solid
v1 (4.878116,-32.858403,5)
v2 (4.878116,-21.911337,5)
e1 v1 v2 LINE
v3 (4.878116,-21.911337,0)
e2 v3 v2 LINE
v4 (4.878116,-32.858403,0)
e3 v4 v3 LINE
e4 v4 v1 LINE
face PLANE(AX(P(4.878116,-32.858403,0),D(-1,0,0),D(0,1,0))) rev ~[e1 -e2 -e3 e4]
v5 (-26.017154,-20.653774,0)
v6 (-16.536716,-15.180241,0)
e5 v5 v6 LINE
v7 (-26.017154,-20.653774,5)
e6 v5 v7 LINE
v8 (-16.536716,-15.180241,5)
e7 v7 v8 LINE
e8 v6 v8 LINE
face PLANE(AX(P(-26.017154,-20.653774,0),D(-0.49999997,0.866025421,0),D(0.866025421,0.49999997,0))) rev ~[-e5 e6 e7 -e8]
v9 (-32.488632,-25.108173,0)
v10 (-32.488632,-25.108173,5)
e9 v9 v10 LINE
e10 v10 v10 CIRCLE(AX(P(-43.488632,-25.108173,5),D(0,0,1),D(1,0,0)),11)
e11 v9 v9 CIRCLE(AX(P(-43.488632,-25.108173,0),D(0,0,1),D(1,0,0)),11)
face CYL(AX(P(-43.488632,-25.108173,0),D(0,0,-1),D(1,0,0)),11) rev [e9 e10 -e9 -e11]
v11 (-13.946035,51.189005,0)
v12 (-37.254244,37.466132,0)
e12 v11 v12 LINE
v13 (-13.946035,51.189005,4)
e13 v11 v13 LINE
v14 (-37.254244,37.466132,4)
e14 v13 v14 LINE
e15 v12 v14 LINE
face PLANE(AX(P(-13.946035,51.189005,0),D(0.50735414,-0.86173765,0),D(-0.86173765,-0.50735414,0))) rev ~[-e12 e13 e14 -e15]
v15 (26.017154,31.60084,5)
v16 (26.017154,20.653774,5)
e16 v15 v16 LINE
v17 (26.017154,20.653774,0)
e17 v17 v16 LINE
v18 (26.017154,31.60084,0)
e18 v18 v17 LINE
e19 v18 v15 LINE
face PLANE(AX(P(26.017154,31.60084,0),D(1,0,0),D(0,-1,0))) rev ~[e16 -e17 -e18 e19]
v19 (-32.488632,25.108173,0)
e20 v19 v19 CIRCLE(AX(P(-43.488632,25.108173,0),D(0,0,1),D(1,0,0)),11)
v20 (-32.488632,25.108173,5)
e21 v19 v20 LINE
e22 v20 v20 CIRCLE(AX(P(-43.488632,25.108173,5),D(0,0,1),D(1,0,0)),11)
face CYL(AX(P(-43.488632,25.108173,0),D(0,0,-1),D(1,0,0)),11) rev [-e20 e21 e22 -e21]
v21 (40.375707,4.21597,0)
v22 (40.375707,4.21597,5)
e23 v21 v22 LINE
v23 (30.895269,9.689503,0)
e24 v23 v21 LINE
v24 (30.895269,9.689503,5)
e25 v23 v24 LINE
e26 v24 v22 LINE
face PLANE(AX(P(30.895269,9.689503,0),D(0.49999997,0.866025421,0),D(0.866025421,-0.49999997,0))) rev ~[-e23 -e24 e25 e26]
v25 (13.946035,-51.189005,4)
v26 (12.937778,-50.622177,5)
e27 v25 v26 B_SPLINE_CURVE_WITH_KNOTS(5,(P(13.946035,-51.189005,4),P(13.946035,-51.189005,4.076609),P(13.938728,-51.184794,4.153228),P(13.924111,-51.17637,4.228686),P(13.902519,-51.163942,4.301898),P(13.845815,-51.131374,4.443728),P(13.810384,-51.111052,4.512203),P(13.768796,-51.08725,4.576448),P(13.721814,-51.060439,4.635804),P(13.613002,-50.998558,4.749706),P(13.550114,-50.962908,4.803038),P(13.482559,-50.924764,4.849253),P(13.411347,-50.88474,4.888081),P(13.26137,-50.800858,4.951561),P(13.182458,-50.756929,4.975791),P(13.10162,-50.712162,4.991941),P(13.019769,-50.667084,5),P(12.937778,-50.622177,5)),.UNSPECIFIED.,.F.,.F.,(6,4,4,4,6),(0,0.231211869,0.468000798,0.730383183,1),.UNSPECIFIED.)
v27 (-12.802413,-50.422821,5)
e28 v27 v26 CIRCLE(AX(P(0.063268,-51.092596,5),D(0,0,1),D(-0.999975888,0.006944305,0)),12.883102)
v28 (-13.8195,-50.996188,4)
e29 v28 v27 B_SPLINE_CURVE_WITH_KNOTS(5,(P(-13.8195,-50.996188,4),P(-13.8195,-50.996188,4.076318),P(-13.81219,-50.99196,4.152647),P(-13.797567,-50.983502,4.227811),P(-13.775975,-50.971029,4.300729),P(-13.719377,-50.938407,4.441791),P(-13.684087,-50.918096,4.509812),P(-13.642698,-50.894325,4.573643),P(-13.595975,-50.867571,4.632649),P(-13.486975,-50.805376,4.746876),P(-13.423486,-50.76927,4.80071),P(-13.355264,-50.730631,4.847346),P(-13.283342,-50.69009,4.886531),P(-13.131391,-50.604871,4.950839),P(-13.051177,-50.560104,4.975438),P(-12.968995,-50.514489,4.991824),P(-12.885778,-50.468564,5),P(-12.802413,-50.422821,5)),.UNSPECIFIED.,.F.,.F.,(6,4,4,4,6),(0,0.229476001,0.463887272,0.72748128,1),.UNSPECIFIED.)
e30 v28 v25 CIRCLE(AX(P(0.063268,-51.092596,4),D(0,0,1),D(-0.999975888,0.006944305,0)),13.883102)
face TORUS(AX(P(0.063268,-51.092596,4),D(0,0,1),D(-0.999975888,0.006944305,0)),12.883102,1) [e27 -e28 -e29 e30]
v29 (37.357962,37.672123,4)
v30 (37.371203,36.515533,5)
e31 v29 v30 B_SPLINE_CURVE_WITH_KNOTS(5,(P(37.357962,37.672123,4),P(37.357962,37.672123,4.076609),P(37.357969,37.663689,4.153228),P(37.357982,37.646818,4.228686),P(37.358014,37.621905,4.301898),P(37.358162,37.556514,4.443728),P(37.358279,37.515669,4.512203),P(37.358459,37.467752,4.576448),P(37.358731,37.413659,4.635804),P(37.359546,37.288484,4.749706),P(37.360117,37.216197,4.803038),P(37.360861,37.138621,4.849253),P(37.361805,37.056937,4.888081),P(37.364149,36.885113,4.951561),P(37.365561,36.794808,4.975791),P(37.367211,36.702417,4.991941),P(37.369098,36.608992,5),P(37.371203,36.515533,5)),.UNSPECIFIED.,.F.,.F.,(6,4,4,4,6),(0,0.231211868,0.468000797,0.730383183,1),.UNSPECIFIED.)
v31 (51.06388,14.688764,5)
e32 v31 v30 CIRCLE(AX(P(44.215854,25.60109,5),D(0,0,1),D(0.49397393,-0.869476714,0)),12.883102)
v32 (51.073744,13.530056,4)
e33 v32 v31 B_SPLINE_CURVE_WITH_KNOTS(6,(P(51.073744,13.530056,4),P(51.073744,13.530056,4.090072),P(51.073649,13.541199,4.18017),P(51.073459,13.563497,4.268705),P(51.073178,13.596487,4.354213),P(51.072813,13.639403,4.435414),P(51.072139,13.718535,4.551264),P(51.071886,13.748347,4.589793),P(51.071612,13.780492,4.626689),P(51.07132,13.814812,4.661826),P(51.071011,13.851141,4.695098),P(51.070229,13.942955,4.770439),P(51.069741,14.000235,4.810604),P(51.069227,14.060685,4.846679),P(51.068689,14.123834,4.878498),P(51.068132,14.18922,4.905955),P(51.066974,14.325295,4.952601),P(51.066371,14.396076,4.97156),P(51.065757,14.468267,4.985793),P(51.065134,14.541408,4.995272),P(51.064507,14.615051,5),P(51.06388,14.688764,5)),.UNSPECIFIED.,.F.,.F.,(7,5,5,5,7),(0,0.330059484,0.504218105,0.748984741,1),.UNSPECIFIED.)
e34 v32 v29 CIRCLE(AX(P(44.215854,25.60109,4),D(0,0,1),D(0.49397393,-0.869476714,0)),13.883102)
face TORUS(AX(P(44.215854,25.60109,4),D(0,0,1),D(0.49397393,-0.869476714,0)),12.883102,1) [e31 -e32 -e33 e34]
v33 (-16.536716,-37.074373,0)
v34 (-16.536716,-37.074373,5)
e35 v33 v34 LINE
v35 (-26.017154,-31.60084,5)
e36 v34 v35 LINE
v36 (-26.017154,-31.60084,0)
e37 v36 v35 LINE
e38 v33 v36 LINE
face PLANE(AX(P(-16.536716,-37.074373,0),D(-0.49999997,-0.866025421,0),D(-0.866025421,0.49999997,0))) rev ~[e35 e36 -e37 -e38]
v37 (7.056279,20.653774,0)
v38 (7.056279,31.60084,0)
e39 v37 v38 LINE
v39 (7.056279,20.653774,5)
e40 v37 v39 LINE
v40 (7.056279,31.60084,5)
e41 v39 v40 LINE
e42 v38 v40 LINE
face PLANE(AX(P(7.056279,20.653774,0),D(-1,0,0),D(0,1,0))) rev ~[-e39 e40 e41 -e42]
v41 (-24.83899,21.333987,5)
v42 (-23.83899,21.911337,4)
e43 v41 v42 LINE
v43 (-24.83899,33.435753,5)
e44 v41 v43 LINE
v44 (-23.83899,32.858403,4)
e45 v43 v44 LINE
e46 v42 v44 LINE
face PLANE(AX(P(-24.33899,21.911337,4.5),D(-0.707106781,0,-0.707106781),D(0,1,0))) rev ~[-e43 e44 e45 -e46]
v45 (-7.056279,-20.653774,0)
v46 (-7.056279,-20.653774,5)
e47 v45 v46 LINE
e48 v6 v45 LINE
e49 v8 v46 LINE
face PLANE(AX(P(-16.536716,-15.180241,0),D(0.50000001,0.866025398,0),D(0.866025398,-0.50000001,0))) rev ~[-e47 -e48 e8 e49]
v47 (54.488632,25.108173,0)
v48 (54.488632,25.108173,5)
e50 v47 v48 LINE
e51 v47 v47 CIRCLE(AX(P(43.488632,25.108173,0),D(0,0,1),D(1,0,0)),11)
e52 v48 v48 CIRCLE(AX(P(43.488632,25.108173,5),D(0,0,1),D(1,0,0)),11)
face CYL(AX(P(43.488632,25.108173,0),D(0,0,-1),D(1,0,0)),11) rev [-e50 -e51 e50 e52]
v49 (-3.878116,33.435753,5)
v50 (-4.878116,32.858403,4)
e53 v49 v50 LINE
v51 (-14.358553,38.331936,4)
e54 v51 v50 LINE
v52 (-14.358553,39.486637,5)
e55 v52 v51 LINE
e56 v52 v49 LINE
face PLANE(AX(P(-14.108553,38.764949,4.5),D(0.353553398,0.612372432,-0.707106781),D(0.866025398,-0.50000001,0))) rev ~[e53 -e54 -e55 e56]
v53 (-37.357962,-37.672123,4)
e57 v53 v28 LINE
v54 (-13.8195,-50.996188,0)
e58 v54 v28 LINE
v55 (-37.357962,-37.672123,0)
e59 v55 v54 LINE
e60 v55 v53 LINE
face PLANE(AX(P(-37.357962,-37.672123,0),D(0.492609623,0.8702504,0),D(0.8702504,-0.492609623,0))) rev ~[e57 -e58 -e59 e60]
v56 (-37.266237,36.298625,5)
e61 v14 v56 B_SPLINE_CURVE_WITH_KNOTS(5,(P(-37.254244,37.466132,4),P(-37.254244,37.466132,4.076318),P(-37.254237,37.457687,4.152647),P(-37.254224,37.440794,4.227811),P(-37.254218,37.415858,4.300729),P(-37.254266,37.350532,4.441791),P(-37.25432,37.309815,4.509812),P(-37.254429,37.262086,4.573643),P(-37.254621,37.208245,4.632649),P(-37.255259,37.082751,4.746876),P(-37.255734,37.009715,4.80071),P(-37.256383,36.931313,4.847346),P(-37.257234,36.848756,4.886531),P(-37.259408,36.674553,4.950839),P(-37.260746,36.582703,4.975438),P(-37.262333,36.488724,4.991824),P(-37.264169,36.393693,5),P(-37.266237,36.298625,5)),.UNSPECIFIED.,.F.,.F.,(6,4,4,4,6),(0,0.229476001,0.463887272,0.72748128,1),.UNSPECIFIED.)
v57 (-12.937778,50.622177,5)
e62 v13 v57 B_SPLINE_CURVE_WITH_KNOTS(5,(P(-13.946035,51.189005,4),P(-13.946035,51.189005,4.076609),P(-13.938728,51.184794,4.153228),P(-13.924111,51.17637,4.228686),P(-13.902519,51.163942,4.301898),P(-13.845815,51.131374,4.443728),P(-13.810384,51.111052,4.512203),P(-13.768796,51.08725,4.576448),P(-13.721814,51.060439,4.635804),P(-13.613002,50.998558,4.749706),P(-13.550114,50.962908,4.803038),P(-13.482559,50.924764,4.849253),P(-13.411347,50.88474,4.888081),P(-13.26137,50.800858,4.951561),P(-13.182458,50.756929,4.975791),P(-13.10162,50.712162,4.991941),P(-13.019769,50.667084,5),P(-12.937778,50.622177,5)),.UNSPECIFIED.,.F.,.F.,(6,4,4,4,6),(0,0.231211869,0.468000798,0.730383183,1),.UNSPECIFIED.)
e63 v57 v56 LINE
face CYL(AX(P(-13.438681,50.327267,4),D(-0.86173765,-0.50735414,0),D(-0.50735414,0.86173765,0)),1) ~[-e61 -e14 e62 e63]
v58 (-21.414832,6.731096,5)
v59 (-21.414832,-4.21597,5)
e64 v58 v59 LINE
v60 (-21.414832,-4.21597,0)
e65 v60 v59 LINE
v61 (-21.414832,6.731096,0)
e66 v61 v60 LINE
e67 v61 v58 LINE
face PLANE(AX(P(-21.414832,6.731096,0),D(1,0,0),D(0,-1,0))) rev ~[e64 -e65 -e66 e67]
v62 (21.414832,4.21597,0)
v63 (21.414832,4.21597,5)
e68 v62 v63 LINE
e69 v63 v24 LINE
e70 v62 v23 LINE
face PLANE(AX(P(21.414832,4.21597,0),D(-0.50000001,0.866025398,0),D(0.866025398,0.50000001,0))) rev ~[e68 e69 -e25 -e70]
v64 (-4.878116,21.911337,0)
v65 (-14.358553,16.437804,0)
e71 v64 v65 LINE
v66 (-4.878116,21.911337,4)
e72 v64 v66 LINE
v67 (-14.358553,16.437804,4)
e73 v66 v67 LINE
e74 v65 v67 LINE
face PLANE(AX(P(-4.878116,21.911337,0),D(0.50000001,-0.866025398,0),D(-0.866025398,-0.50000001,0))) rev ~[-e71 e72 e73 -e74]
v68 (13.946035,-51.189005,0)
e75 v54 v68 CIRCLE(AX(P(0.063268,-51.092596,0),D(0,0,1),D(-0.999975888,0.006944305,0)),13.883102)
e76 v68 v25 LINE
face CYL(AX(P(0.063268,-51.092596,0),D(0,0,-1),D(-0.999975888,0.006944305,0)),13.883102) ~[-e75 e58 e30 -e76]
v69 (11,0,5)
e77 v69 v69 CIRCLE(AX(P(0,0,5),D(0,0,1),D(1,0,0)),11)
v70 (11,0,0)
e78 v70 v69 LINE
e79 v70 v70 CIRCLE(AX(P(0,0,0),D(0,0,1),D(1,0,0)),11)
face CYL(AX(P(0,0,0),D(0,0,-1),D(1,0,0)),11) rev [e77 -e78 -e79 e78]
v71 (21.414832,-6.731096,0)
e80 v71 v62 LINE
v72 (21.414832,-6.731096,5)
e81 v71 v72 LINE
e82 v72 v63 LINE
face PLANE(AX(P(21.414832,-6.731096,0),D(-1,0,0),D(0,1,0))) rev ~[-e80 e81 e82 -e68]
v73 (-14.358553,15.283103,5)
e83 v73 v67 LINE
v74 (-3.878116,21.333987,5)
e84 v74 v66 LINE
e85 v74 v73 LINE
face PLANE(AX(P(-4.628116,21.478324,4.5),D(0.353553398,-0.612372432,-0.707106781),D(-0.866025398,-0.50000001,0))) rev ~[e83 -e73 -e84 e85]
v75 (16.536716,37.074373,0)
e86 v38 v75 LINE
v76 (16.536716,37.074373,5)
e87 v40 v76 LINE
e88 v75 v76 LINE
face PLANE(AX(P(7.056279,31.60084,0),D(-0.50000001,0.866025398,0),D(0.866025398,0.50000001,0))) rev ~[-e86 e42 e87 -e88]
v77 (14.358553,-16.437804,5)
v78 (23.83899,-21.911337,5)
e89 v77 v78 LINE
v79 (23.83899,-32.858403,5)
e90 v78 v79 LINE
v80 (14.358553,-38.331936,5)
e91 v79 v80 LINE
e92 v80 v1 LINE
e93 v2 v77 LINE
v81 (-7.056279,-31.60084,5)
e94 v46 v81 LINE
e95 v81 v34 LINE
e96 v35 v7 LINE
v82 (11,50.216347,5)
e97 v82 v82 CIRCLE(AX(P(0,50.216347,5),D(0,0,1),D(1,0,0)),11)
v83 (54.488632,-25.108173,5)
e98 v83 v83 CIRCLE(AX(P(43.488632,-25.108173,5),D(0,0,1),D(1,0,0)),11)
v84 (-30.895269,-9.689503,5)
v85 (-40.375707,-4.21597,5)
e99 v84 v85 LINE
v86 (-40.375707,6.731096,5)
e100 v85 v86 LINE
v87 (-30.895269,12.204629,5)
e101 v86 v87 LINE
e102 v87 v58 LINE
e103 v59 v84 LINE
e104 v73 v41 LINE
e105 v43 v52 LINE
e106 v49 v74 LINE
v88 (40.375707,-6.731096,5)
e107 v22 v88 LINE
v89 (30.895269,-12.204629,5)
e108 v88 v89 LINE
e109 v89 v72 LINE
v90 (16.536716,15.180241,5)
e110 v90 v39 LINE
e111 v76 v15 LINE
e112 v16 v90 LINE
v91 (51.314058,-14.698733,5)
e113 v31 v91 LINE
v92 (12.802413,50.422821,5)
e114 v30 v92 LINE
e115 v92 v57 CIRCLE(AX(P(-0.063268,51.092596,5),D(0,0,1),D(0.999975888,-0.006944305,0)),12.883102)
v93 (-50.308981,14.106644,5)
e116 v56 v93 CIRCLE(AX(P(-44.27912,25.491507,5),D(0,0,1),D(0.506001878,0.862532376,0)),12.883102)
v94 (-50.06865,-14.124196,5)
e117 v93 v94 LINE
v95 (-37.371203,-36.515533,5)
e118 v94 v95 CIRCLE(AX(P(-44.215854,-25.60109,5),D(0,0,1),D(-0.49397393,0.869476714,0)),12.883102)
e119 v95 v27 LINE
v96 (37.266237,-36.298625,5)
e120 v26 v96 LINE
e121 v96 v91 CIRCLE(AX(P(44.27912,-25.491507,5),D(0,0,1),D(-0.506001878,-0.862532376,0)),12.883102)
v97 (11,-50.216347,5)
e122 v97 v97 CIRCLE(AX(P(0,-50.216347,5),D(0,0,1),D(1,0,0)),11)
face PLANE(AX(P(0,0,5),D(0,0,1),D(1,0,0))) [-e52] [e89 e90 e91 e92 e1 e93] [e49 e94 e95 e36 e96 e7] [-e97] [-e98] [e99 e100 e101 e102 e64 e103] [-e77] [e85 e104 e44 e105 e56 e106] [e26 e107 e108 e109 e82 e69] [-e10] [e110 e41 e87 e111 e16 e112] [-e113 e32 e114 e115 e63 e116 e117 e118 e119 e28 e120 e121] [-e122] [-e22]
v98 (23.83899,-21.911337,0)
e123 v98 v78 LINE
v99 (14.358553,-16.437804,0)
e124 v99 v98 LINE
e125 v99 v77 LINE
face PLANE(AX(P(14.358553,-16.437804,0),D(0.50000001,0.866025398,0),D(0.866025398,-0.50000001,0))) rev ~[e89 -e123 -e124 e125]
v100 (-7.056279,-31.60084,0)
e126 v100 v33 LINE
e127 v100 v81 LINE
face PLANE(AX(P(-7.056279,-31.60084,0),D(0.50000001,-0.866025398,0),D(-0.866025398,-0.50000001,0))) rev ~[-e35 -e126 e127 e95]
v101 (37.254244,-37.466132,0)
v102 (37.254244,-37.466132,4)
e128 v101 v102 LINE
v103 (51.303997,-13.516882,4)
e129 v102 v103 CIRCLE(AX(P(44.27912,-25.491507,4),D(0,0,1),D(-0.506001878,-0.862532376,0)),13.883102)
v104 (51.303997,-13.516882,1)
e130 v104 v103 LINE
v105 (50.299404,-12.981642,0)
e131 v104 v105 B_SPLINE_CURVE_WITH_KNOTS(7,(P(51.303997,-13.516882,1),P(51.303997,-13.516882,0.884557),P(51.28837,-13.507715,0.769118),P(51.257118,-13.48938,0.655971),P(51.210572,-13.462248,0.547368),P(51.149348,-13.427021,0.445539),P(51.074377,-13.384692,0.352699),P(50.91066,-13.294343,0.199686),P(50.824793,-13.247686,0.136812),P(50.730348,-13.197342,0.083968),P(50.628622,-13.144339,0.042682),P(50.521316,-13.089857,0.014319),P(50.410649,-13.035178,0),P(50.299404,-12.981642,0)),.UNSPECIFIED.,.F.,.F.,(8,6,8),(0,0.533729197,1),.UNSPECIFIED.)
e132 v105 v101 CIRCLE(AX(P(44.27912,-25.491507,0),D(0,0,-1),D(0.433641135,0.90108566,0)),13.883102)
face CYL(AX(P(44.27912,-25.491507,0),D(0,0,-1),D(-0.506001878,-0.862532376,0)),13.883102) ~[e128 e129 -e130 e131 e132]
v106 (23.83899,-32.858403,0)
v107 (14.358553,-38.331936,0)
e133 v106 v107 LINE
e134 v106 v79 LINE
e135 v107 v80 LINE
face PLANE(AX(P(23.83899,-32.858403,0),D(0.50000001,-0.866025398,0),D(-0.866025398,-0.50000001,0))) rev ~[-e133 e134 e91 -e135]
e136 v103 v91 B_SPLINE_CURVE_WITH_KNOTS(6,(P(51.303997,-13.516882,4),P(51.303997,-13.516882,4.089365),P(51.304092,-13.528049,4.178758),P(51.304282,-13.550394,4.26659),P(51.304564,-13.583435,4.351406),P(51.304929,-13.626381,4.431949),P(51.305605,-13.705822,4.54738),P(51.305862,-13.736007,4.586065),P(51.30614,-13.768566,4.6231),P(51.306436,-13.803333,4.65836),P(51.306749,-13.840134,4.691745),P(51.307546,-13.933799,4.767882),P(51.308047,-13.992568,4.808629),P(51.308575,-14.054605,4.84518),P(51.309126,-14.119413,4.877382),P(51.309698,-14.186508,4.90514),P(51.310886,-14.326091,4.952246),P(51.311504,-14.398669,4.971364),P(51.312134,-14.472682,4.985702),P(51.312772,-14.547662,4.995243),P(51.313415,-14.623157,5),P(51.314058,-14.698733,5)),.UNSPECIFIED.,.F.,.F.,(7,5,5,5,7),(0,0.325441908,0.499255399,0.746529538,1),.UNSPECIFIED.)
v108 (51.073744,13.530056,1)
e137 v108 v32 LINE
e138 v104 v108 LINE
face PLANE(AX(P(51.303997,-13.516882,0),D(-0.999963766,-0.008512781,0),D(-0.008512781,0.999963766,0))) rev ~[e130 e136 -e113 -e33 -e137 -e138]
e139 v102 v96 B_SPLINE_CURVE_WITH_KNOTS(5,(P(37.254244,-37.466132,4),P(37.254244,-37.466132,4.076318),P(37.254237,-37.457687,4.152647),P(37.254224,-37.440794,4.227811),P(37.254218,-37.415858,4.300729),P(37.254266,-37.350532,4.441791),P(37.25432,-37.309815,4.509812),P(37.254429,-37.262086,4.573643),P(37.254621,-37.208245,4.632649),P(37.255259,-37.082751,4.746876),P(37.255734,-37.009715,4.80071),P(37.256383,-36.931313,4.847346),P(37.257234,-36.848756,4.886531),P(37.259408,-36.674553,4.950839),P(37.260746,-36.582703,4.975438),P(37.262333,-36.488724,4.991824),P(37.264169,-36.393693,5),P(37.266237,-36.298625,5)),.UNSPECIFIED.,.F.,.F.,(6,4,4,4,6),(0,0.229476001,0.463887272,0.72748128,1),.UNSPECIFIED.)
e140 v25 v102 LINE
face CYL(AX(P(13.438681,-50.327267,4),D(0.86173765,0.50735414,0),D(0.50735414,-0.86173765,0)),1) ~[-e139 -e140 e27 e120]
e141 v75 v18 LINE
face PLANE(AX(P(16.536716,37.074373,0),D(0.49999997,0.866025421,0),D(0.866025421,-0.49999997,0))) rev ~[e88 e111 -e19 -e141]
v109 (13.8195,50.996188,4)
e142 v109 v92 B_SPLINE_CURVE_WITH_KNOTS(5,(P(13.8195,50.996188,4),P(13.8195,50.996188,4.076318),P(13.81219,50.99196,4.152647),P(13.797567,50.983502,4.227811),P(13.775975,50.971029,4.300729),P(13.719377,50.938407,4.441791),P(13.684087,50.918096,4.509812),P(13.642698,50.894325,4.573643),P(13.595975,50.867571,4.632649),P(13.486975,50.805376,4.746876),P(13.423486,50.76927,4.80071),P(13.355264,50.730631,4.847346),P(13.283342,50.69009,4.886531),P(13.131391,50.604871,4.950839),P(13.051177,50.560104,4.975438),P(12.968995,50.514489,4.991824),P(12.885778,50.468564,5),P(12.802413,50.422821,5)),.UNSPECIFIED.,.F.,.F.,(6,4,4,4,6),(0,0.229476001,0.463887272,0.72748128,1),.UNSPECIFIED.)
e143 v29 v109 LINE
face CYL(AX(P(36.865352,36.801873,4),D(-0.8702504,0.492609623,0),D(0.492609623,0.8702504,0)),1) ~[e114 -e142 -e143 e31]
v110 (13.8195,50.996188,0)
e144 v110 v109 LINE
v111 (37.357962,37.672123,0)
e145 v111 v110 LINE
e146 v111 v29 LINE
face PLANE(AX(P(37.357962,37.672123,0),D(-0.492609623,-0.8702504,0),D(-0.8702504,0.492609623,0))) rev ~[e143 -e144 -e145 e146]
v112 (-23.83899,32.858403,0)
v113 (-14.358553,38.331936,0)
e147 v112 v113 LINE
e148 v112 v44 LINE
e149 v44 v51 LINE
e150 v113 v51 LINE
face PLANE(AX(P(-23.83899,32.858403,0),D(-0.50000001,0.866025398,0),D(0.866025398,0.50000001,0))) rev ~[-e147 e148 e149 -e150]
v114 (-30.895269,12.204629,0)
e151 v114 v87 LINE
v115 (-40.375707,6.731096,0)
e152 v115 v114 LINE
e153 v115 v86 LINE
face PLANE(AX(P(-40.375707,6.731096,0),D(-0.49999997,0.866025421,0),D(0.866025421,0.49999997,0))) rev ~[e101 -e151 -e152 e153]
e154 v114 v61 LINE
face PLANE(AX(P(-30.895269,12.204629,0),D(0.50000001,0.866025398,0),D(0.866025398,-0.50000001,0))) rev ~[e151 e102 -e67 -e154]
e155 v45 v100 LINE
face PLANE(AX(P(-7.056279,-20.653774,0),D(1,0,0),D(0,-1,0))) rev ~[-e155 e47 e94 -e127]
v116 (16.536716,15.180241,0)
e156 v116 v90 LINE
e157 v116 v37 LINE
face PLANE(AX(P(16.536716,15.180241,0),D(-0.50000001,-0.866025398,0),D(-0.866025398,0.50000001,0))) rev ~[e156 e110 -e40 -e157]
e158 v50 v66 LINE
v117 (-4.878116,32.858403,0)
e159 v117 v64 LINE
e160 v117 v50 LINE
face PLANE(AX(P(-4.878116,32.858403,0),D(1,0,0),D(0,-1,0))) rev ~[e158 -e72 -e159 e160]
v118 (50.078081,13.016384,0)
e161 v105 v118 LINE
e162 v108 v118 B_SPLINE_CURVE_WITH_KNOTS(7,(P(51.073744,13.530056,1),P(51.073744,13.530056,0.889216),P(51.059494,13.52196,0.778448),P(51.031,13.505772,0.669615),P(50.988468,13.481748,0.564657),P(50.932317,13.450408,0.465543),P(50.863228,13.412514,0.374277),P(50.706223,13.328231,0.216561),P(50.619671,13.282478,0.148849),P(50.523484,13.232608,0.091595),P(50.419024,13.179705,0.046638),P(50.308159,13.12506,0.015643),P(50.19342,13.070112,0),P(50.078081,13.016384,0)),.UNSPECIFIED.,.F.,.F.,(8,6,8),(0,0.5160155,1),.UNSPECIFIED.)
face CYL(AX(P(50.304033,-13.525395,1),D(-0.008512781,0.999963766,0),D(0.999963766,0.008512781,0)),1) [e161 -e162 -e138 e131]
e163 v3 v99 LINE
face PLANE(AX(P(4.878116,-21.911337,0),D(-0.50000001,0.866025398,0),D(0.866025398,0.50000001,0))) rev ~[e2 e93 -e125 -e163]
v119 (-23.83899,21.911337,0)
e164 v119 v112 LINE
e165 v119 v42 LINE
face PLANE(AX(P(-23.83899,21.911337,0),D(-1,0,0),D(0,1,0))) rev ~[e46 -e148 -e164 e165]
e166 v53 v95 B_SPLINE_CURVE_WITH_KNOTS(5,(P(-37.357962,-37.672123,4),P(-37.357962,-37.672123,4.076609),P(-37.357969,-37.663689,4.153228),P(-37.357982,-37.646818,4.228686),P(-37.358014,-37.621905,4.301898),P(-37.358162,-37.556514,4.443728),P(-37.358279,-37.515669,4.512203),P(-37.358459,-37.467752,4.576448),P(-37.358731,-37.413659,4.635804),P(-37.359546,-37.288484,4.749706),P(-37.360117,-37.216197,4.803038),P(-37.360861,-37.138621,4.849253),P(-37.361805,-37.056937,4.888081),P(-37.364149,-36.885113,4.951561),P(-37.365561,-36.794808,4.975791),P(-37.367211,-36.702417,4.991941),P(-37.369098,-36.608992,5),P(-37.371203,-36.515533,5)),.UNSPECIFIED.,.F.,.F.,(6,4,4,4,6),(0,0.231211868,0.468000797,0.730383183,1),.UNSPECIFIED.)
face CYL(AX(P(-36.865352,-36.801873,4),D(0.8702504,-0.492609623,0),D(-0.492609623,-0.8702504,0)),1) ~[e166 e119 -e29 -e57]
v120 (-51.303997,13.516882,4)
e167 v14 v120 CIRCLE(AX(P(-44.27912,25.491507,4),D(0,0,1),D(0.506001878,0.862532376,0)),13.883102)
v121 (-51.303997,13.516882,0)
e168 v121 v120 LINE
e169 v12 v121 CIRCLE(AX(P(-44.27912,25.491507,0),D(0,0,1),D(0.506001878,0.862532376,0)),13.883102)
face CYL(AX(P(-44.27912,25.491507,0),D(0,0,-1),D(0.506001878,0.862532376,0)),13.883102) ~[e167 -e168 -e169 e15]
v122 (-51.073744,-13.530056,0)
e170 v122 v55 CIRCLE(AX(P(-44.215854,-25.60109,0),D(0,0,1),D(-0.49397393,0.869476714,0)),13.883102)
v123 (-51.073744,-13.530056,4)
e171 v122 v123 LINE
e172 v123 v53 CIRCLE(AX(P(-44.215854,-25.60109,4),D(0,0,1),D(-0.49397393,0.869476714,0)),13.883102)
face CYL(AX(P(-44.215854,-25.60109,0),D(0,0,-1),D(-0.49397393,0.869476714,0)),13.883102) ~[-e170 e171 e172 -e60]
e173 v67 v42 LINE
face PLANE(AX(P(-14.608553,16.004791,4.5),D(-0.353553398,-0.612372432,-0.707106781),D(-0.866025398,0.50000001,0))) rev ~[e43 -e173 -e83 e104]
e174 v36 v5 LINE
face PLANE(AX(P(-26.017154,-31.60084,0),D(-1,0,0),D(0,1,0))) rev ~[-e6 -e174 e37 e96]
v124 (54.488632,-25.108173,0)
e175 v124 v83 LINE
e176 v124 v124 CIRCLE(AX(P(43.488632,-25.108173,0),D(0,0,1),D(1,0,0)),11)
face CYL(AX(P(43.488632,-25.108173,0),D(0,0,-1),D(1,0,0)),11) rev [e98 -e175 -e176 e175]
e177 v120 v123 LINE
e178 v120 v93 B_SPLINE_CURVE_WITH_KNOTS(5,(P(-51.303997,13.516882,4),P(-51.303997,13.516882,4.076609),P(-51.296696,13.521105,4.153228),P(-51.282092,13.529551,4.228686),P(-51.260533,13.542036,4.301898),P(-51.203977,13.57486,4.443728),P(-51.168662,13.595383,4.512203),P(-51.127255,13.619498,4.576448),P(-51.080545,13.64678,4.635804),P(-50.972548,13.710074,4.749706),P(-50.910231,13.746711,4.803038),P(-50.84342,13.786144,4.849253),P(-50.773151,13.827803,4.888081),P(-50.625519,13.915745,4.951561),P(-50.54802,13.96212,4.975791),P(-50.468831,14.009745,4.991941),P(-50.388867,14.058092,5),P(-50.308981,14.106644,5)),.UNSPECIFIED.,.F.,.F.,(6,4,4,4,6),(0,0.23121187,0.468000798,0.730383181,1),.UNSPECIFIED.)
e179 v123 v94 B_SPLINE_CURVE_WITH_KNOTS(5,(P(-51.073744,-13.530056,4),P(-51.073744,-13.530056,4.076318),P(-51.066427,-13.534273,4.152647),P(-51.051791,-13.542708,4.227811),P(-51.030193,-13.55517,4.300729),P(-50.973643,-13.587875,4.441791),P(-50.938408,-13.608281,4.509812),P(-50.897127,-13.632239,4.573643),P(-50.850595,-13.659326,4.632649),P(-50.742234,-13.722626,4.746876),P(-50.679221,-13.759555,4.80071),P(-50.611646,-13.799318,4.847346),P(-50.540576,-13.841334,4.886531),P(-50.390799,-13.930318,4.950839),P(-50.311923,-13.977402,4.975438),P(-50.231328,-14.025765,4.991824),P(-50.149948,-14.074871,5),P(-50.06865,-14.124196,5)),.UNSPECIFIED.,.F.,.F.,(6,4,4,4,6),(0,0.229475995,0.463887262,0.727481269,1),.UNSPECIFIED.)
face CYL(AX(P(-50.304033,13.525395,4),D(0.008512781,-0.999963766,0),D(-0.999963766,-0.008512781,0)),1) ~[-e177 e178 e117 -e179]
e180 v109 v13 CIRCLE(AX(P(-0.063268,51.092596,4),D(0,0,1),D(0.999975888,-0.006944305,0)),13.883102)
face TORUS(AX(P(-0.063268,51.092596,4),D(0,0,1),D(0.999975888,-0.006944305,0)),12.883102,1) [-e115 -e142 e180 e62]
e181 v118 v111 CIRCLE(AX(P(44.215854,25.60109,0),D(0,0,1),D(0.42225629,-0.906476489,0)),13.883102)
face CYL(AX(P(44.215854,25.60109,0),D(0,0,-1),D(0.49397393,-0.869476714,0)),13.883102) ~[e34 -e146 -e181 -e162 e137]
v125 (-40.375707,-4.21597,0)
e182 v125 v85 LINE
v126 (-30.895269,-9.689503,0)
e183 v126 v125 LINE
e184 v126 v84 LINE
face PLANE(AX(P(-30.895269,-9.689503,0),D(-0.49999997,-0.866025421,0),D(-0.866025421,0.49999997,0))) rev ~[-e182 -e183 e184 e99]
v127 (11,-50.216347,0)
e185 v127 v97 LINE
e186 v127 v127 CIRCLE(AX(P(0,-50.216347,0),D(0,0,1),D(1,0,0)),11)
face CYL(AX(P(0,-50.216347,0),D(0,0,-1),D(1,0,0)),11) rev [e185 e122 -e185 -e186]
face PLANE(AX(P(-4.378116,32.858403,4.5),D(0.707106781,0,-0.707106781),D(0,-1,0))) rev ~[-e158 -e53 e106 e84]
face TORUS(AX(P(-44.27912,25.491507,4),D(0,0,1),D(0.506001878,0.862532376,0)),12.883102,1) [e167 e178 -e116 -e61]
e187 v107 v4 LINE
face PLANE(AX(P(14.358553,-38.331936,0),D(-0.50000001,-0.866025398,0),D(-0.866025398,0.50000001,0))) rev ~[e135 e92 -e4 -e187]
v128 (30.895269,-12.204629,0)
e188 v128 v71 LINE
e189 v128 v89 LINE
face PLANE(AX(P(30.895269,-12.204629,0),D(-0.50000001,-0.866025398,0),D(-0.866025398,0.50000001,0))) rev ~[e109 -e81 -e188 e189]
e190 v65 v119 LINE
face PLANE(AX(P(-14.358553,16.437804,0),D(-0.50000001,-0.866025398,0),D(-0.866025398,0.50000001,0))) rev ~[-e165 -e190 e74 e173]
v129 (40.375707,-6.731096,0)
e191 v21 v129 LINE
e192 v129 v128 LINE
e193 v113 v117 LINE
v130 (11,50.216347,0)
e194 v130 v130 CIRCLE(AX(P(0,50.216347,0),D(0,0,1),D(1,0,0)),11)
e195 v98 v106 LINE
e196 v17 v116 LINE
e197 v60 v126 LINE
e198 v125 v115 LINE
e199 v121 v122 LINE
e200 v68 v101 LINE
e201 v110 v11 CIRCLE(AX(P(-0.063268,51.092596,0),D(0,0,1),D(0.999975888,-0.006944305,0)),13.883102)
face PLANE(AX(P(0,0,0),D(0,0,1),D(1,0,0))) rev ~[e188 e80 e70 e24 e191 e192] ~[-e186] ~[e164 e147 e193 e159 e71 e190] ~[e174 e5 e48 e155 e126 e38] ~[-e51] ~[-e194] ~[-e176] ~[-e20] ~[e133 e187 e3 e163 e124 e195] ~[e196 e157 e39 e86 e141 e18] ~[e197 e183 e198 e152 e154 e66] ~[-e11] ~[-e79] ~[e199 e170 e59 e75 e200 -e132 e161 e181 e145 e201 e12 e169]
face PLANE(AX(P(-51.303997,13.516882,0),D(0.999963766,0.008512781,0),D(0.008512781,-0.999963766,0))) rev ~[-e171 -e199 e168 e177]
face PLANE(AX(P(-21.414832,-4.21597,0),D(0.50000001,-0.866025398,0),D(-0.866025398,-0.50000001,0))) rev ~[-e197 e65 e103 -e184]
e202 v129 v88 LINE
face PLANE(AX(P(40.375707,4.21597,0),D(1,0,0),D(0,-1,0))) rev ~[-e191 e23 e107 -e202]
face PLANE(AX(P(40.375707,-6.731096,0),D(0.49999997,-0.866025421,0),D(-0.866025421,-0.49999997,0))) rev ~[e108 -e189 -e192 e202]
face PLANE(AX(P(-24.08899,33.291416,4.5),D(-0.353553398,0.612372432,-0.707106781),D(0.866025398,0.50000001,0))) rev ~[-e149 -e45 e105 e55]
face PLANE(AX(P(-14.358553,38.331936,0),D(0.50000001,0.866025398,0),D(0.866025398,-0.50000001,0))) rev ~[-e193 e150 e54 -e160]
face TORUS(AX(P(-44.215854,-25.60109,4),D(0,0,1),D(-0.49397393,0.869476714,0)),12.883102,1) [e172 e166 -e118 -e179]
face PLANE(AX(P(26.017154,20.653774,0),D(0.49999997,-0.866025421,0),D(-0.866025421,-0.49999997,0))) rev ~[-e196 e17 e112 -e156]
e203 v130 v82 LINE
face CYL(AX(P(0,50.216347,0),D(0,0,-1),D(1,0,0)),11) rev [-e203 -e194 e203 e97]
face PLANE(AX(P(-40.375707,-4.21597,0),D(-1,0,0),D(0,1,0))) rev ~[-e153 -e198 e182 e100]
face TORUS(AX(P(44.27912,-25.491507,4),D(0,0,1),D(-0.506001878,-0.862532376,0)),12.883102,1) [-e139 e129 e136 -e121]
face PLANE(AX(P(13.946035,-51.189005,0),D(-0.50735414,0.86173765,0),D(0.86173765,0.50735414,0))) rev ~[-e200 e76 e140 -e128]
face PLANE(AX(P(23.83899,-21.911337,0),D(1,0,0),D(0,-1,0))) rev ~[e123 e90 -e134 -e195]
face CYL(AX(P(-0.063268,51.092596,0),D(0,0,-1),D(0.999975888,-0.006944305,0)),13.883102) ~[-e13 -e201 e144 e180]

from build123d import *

# Parameters (mm, degrees)
F0_R     = 11
F1_DEPTH = 5
F2_R     = 1
F3_SIZE  = 1


with BuildPart() as f1:
    # F0 (on Top) → F1 (new body)
    with BuildSketch(Plane.XY):
        with BuildLine():
            Line((37.357962, 37.672123), (13.8195, 50.996188))
            ThreePointArc((13.8195, 50.996188), (0.033141, 64.975364), (-13.946035, 51.189005))
            Line((-13.946035, 51.189005), (-37.254244, 37.466132))
            ThreePointArc((-37.254244, 37.466132), (-56.253745, 32.516383), (-51.303997, 13.516882))
            Line((-51.303997, 13.516882), (-51.073744, -13.530056))
            ThreePointArc((-51.073744, -13.530056), (-56.286887, -32.458981), (-37.357962, -37.672123))
            Line((-37.357962, -37.672123), (-13.8195, -50.996188))
            ThreePointArc((-13.8195, -50.996188), (-0.033141, -64.975364), (13.946035, -51.189005))
            Line((13.946035, -51.189005), (37.254244, -37.466132))
            ThreePointArc((37.254244, -37.466132), (56.253745, -32.516383), (51.303997, -13.516882))
            Line((51.303997, -13.516882), (51.073744, 13.530056))
            ThreePointArc((51.073744, 13.530056), (56.286887, 32.458981), (37.357962, 37.672123))
        make_face()
        with Locations((-43.488632, -25.108173)):
            Circle(F0_R, mode=Mode.SUBTRACT)
        Polygon((-7.056279, -20.653774), (-7.056279, -31.60084), (-16.536716, -37.074373), (-26.017154, -31.60084), (-26.017154, -20.653774), (-16.536716, -15.180241), align=None, mode=Mode.SUBTRACT)
        with Locations((0, -50.216347)):
            Circle(F0_R, mode=Mode.SUBTRACT)
        Polygon((14.358553, -16.437804), (23.83899, -21.911337), (23.83899, -32.858403), (14.358553, -38.331936), (4.878116, -32.858403), (4.878116, -21.911337), align=None, mode=Mode.SUBTRACT)
        with Locations((43.488632, -25.108173)):
            Circle(F0_R, mode=Mode.SUBTRACT)
        Polygon((21.414832, 4.21597), (30.895269, 9.689503), (40.375707, 4.21597), (40.375707, -6.731096), (30.895269, -12.204629), (21.414832, -6.731096), align=None, mode=Mode.SUBTRACT)
        Polygon((-21.414832, -4.21597), (-30.895269, -9.689503), (-40.375707, -4.21597), (-40.375707, 6.731096), (-30.895269, 12.204629), (-21.414832, 6.731096), align=None, mode=Mode.SUBTRACT)
        with Locations((-43.488632, 25.108173)):
            Circle(F0_R, mode=Mode.SUBTRACT)
        Polygon((-14.358553, 38.331936), (-4.878116, 32.858403), (-4.878116, 21.911337), (-14.358553, 16.437804), (-23.83899, 21.911337), (-23.83899, 32.858403), align=None, mode=Mode.SUBTRACT)
        Circle(F0_R, mode=Mode.SUBTRACT)
        Polygon((7.056279, 20.653774), (7.056279, 31.60084), (16.536716, 37.074373), (26.017154, 31.60084), (26.017154, 20.653774), (16.536716, 15.180241), align=None, mode=Mode.SUBTRACT)
        with Locations((43.488632, 25.108173)):
            Circle(F0_R, mode=Mode.SUBTRACT)
        with Locations((0, 50.216347)):
            Circle(F0_R, mode=Mode.SUBTRACT)
    extrude(amount=F1_DEPTH)

    # F2
    f2_edges = [f1.edges().sort_by_distance(p)[0] for p in [
        (-25.588731, -44.334156, 5),
        (-56.286887, -32.458981, 5),
        (-51.18887, -0.006587, 5),
        (-56.253745, 32.516383, 5),
        (-25.60014, 44.327569, 5),
        (0.033141, 64.975364, 5),
        (25.588731, 44.334156, 5),
        (56.286887, 32.458981, 5),
        (51.18887, 0.006587, 0),
        (56.253745, -32.516383, 5),
        (25.60014, -44.327569, 5),
        (-0.033141, -64.975364, 5),
    ]]
    fillet(f2_edges, radius=F2_R)

    # F3
    f3_edges = [f1.edges().sort_by_distance(p)[0] for p in [
        (-19.098772, 35.595169, 5),
        (-9.618334, 35.595169, 5),
        (-4.878116, 27.38487, 5),
        (-9.618334, 19.17457, 5),
        (-19.098772, 19.17457, 5),
        (-23.83899, 27.38487, 5),
    ]]
    chamfer(f3_edges, length=F3_SIZE)


solid = f1.part
